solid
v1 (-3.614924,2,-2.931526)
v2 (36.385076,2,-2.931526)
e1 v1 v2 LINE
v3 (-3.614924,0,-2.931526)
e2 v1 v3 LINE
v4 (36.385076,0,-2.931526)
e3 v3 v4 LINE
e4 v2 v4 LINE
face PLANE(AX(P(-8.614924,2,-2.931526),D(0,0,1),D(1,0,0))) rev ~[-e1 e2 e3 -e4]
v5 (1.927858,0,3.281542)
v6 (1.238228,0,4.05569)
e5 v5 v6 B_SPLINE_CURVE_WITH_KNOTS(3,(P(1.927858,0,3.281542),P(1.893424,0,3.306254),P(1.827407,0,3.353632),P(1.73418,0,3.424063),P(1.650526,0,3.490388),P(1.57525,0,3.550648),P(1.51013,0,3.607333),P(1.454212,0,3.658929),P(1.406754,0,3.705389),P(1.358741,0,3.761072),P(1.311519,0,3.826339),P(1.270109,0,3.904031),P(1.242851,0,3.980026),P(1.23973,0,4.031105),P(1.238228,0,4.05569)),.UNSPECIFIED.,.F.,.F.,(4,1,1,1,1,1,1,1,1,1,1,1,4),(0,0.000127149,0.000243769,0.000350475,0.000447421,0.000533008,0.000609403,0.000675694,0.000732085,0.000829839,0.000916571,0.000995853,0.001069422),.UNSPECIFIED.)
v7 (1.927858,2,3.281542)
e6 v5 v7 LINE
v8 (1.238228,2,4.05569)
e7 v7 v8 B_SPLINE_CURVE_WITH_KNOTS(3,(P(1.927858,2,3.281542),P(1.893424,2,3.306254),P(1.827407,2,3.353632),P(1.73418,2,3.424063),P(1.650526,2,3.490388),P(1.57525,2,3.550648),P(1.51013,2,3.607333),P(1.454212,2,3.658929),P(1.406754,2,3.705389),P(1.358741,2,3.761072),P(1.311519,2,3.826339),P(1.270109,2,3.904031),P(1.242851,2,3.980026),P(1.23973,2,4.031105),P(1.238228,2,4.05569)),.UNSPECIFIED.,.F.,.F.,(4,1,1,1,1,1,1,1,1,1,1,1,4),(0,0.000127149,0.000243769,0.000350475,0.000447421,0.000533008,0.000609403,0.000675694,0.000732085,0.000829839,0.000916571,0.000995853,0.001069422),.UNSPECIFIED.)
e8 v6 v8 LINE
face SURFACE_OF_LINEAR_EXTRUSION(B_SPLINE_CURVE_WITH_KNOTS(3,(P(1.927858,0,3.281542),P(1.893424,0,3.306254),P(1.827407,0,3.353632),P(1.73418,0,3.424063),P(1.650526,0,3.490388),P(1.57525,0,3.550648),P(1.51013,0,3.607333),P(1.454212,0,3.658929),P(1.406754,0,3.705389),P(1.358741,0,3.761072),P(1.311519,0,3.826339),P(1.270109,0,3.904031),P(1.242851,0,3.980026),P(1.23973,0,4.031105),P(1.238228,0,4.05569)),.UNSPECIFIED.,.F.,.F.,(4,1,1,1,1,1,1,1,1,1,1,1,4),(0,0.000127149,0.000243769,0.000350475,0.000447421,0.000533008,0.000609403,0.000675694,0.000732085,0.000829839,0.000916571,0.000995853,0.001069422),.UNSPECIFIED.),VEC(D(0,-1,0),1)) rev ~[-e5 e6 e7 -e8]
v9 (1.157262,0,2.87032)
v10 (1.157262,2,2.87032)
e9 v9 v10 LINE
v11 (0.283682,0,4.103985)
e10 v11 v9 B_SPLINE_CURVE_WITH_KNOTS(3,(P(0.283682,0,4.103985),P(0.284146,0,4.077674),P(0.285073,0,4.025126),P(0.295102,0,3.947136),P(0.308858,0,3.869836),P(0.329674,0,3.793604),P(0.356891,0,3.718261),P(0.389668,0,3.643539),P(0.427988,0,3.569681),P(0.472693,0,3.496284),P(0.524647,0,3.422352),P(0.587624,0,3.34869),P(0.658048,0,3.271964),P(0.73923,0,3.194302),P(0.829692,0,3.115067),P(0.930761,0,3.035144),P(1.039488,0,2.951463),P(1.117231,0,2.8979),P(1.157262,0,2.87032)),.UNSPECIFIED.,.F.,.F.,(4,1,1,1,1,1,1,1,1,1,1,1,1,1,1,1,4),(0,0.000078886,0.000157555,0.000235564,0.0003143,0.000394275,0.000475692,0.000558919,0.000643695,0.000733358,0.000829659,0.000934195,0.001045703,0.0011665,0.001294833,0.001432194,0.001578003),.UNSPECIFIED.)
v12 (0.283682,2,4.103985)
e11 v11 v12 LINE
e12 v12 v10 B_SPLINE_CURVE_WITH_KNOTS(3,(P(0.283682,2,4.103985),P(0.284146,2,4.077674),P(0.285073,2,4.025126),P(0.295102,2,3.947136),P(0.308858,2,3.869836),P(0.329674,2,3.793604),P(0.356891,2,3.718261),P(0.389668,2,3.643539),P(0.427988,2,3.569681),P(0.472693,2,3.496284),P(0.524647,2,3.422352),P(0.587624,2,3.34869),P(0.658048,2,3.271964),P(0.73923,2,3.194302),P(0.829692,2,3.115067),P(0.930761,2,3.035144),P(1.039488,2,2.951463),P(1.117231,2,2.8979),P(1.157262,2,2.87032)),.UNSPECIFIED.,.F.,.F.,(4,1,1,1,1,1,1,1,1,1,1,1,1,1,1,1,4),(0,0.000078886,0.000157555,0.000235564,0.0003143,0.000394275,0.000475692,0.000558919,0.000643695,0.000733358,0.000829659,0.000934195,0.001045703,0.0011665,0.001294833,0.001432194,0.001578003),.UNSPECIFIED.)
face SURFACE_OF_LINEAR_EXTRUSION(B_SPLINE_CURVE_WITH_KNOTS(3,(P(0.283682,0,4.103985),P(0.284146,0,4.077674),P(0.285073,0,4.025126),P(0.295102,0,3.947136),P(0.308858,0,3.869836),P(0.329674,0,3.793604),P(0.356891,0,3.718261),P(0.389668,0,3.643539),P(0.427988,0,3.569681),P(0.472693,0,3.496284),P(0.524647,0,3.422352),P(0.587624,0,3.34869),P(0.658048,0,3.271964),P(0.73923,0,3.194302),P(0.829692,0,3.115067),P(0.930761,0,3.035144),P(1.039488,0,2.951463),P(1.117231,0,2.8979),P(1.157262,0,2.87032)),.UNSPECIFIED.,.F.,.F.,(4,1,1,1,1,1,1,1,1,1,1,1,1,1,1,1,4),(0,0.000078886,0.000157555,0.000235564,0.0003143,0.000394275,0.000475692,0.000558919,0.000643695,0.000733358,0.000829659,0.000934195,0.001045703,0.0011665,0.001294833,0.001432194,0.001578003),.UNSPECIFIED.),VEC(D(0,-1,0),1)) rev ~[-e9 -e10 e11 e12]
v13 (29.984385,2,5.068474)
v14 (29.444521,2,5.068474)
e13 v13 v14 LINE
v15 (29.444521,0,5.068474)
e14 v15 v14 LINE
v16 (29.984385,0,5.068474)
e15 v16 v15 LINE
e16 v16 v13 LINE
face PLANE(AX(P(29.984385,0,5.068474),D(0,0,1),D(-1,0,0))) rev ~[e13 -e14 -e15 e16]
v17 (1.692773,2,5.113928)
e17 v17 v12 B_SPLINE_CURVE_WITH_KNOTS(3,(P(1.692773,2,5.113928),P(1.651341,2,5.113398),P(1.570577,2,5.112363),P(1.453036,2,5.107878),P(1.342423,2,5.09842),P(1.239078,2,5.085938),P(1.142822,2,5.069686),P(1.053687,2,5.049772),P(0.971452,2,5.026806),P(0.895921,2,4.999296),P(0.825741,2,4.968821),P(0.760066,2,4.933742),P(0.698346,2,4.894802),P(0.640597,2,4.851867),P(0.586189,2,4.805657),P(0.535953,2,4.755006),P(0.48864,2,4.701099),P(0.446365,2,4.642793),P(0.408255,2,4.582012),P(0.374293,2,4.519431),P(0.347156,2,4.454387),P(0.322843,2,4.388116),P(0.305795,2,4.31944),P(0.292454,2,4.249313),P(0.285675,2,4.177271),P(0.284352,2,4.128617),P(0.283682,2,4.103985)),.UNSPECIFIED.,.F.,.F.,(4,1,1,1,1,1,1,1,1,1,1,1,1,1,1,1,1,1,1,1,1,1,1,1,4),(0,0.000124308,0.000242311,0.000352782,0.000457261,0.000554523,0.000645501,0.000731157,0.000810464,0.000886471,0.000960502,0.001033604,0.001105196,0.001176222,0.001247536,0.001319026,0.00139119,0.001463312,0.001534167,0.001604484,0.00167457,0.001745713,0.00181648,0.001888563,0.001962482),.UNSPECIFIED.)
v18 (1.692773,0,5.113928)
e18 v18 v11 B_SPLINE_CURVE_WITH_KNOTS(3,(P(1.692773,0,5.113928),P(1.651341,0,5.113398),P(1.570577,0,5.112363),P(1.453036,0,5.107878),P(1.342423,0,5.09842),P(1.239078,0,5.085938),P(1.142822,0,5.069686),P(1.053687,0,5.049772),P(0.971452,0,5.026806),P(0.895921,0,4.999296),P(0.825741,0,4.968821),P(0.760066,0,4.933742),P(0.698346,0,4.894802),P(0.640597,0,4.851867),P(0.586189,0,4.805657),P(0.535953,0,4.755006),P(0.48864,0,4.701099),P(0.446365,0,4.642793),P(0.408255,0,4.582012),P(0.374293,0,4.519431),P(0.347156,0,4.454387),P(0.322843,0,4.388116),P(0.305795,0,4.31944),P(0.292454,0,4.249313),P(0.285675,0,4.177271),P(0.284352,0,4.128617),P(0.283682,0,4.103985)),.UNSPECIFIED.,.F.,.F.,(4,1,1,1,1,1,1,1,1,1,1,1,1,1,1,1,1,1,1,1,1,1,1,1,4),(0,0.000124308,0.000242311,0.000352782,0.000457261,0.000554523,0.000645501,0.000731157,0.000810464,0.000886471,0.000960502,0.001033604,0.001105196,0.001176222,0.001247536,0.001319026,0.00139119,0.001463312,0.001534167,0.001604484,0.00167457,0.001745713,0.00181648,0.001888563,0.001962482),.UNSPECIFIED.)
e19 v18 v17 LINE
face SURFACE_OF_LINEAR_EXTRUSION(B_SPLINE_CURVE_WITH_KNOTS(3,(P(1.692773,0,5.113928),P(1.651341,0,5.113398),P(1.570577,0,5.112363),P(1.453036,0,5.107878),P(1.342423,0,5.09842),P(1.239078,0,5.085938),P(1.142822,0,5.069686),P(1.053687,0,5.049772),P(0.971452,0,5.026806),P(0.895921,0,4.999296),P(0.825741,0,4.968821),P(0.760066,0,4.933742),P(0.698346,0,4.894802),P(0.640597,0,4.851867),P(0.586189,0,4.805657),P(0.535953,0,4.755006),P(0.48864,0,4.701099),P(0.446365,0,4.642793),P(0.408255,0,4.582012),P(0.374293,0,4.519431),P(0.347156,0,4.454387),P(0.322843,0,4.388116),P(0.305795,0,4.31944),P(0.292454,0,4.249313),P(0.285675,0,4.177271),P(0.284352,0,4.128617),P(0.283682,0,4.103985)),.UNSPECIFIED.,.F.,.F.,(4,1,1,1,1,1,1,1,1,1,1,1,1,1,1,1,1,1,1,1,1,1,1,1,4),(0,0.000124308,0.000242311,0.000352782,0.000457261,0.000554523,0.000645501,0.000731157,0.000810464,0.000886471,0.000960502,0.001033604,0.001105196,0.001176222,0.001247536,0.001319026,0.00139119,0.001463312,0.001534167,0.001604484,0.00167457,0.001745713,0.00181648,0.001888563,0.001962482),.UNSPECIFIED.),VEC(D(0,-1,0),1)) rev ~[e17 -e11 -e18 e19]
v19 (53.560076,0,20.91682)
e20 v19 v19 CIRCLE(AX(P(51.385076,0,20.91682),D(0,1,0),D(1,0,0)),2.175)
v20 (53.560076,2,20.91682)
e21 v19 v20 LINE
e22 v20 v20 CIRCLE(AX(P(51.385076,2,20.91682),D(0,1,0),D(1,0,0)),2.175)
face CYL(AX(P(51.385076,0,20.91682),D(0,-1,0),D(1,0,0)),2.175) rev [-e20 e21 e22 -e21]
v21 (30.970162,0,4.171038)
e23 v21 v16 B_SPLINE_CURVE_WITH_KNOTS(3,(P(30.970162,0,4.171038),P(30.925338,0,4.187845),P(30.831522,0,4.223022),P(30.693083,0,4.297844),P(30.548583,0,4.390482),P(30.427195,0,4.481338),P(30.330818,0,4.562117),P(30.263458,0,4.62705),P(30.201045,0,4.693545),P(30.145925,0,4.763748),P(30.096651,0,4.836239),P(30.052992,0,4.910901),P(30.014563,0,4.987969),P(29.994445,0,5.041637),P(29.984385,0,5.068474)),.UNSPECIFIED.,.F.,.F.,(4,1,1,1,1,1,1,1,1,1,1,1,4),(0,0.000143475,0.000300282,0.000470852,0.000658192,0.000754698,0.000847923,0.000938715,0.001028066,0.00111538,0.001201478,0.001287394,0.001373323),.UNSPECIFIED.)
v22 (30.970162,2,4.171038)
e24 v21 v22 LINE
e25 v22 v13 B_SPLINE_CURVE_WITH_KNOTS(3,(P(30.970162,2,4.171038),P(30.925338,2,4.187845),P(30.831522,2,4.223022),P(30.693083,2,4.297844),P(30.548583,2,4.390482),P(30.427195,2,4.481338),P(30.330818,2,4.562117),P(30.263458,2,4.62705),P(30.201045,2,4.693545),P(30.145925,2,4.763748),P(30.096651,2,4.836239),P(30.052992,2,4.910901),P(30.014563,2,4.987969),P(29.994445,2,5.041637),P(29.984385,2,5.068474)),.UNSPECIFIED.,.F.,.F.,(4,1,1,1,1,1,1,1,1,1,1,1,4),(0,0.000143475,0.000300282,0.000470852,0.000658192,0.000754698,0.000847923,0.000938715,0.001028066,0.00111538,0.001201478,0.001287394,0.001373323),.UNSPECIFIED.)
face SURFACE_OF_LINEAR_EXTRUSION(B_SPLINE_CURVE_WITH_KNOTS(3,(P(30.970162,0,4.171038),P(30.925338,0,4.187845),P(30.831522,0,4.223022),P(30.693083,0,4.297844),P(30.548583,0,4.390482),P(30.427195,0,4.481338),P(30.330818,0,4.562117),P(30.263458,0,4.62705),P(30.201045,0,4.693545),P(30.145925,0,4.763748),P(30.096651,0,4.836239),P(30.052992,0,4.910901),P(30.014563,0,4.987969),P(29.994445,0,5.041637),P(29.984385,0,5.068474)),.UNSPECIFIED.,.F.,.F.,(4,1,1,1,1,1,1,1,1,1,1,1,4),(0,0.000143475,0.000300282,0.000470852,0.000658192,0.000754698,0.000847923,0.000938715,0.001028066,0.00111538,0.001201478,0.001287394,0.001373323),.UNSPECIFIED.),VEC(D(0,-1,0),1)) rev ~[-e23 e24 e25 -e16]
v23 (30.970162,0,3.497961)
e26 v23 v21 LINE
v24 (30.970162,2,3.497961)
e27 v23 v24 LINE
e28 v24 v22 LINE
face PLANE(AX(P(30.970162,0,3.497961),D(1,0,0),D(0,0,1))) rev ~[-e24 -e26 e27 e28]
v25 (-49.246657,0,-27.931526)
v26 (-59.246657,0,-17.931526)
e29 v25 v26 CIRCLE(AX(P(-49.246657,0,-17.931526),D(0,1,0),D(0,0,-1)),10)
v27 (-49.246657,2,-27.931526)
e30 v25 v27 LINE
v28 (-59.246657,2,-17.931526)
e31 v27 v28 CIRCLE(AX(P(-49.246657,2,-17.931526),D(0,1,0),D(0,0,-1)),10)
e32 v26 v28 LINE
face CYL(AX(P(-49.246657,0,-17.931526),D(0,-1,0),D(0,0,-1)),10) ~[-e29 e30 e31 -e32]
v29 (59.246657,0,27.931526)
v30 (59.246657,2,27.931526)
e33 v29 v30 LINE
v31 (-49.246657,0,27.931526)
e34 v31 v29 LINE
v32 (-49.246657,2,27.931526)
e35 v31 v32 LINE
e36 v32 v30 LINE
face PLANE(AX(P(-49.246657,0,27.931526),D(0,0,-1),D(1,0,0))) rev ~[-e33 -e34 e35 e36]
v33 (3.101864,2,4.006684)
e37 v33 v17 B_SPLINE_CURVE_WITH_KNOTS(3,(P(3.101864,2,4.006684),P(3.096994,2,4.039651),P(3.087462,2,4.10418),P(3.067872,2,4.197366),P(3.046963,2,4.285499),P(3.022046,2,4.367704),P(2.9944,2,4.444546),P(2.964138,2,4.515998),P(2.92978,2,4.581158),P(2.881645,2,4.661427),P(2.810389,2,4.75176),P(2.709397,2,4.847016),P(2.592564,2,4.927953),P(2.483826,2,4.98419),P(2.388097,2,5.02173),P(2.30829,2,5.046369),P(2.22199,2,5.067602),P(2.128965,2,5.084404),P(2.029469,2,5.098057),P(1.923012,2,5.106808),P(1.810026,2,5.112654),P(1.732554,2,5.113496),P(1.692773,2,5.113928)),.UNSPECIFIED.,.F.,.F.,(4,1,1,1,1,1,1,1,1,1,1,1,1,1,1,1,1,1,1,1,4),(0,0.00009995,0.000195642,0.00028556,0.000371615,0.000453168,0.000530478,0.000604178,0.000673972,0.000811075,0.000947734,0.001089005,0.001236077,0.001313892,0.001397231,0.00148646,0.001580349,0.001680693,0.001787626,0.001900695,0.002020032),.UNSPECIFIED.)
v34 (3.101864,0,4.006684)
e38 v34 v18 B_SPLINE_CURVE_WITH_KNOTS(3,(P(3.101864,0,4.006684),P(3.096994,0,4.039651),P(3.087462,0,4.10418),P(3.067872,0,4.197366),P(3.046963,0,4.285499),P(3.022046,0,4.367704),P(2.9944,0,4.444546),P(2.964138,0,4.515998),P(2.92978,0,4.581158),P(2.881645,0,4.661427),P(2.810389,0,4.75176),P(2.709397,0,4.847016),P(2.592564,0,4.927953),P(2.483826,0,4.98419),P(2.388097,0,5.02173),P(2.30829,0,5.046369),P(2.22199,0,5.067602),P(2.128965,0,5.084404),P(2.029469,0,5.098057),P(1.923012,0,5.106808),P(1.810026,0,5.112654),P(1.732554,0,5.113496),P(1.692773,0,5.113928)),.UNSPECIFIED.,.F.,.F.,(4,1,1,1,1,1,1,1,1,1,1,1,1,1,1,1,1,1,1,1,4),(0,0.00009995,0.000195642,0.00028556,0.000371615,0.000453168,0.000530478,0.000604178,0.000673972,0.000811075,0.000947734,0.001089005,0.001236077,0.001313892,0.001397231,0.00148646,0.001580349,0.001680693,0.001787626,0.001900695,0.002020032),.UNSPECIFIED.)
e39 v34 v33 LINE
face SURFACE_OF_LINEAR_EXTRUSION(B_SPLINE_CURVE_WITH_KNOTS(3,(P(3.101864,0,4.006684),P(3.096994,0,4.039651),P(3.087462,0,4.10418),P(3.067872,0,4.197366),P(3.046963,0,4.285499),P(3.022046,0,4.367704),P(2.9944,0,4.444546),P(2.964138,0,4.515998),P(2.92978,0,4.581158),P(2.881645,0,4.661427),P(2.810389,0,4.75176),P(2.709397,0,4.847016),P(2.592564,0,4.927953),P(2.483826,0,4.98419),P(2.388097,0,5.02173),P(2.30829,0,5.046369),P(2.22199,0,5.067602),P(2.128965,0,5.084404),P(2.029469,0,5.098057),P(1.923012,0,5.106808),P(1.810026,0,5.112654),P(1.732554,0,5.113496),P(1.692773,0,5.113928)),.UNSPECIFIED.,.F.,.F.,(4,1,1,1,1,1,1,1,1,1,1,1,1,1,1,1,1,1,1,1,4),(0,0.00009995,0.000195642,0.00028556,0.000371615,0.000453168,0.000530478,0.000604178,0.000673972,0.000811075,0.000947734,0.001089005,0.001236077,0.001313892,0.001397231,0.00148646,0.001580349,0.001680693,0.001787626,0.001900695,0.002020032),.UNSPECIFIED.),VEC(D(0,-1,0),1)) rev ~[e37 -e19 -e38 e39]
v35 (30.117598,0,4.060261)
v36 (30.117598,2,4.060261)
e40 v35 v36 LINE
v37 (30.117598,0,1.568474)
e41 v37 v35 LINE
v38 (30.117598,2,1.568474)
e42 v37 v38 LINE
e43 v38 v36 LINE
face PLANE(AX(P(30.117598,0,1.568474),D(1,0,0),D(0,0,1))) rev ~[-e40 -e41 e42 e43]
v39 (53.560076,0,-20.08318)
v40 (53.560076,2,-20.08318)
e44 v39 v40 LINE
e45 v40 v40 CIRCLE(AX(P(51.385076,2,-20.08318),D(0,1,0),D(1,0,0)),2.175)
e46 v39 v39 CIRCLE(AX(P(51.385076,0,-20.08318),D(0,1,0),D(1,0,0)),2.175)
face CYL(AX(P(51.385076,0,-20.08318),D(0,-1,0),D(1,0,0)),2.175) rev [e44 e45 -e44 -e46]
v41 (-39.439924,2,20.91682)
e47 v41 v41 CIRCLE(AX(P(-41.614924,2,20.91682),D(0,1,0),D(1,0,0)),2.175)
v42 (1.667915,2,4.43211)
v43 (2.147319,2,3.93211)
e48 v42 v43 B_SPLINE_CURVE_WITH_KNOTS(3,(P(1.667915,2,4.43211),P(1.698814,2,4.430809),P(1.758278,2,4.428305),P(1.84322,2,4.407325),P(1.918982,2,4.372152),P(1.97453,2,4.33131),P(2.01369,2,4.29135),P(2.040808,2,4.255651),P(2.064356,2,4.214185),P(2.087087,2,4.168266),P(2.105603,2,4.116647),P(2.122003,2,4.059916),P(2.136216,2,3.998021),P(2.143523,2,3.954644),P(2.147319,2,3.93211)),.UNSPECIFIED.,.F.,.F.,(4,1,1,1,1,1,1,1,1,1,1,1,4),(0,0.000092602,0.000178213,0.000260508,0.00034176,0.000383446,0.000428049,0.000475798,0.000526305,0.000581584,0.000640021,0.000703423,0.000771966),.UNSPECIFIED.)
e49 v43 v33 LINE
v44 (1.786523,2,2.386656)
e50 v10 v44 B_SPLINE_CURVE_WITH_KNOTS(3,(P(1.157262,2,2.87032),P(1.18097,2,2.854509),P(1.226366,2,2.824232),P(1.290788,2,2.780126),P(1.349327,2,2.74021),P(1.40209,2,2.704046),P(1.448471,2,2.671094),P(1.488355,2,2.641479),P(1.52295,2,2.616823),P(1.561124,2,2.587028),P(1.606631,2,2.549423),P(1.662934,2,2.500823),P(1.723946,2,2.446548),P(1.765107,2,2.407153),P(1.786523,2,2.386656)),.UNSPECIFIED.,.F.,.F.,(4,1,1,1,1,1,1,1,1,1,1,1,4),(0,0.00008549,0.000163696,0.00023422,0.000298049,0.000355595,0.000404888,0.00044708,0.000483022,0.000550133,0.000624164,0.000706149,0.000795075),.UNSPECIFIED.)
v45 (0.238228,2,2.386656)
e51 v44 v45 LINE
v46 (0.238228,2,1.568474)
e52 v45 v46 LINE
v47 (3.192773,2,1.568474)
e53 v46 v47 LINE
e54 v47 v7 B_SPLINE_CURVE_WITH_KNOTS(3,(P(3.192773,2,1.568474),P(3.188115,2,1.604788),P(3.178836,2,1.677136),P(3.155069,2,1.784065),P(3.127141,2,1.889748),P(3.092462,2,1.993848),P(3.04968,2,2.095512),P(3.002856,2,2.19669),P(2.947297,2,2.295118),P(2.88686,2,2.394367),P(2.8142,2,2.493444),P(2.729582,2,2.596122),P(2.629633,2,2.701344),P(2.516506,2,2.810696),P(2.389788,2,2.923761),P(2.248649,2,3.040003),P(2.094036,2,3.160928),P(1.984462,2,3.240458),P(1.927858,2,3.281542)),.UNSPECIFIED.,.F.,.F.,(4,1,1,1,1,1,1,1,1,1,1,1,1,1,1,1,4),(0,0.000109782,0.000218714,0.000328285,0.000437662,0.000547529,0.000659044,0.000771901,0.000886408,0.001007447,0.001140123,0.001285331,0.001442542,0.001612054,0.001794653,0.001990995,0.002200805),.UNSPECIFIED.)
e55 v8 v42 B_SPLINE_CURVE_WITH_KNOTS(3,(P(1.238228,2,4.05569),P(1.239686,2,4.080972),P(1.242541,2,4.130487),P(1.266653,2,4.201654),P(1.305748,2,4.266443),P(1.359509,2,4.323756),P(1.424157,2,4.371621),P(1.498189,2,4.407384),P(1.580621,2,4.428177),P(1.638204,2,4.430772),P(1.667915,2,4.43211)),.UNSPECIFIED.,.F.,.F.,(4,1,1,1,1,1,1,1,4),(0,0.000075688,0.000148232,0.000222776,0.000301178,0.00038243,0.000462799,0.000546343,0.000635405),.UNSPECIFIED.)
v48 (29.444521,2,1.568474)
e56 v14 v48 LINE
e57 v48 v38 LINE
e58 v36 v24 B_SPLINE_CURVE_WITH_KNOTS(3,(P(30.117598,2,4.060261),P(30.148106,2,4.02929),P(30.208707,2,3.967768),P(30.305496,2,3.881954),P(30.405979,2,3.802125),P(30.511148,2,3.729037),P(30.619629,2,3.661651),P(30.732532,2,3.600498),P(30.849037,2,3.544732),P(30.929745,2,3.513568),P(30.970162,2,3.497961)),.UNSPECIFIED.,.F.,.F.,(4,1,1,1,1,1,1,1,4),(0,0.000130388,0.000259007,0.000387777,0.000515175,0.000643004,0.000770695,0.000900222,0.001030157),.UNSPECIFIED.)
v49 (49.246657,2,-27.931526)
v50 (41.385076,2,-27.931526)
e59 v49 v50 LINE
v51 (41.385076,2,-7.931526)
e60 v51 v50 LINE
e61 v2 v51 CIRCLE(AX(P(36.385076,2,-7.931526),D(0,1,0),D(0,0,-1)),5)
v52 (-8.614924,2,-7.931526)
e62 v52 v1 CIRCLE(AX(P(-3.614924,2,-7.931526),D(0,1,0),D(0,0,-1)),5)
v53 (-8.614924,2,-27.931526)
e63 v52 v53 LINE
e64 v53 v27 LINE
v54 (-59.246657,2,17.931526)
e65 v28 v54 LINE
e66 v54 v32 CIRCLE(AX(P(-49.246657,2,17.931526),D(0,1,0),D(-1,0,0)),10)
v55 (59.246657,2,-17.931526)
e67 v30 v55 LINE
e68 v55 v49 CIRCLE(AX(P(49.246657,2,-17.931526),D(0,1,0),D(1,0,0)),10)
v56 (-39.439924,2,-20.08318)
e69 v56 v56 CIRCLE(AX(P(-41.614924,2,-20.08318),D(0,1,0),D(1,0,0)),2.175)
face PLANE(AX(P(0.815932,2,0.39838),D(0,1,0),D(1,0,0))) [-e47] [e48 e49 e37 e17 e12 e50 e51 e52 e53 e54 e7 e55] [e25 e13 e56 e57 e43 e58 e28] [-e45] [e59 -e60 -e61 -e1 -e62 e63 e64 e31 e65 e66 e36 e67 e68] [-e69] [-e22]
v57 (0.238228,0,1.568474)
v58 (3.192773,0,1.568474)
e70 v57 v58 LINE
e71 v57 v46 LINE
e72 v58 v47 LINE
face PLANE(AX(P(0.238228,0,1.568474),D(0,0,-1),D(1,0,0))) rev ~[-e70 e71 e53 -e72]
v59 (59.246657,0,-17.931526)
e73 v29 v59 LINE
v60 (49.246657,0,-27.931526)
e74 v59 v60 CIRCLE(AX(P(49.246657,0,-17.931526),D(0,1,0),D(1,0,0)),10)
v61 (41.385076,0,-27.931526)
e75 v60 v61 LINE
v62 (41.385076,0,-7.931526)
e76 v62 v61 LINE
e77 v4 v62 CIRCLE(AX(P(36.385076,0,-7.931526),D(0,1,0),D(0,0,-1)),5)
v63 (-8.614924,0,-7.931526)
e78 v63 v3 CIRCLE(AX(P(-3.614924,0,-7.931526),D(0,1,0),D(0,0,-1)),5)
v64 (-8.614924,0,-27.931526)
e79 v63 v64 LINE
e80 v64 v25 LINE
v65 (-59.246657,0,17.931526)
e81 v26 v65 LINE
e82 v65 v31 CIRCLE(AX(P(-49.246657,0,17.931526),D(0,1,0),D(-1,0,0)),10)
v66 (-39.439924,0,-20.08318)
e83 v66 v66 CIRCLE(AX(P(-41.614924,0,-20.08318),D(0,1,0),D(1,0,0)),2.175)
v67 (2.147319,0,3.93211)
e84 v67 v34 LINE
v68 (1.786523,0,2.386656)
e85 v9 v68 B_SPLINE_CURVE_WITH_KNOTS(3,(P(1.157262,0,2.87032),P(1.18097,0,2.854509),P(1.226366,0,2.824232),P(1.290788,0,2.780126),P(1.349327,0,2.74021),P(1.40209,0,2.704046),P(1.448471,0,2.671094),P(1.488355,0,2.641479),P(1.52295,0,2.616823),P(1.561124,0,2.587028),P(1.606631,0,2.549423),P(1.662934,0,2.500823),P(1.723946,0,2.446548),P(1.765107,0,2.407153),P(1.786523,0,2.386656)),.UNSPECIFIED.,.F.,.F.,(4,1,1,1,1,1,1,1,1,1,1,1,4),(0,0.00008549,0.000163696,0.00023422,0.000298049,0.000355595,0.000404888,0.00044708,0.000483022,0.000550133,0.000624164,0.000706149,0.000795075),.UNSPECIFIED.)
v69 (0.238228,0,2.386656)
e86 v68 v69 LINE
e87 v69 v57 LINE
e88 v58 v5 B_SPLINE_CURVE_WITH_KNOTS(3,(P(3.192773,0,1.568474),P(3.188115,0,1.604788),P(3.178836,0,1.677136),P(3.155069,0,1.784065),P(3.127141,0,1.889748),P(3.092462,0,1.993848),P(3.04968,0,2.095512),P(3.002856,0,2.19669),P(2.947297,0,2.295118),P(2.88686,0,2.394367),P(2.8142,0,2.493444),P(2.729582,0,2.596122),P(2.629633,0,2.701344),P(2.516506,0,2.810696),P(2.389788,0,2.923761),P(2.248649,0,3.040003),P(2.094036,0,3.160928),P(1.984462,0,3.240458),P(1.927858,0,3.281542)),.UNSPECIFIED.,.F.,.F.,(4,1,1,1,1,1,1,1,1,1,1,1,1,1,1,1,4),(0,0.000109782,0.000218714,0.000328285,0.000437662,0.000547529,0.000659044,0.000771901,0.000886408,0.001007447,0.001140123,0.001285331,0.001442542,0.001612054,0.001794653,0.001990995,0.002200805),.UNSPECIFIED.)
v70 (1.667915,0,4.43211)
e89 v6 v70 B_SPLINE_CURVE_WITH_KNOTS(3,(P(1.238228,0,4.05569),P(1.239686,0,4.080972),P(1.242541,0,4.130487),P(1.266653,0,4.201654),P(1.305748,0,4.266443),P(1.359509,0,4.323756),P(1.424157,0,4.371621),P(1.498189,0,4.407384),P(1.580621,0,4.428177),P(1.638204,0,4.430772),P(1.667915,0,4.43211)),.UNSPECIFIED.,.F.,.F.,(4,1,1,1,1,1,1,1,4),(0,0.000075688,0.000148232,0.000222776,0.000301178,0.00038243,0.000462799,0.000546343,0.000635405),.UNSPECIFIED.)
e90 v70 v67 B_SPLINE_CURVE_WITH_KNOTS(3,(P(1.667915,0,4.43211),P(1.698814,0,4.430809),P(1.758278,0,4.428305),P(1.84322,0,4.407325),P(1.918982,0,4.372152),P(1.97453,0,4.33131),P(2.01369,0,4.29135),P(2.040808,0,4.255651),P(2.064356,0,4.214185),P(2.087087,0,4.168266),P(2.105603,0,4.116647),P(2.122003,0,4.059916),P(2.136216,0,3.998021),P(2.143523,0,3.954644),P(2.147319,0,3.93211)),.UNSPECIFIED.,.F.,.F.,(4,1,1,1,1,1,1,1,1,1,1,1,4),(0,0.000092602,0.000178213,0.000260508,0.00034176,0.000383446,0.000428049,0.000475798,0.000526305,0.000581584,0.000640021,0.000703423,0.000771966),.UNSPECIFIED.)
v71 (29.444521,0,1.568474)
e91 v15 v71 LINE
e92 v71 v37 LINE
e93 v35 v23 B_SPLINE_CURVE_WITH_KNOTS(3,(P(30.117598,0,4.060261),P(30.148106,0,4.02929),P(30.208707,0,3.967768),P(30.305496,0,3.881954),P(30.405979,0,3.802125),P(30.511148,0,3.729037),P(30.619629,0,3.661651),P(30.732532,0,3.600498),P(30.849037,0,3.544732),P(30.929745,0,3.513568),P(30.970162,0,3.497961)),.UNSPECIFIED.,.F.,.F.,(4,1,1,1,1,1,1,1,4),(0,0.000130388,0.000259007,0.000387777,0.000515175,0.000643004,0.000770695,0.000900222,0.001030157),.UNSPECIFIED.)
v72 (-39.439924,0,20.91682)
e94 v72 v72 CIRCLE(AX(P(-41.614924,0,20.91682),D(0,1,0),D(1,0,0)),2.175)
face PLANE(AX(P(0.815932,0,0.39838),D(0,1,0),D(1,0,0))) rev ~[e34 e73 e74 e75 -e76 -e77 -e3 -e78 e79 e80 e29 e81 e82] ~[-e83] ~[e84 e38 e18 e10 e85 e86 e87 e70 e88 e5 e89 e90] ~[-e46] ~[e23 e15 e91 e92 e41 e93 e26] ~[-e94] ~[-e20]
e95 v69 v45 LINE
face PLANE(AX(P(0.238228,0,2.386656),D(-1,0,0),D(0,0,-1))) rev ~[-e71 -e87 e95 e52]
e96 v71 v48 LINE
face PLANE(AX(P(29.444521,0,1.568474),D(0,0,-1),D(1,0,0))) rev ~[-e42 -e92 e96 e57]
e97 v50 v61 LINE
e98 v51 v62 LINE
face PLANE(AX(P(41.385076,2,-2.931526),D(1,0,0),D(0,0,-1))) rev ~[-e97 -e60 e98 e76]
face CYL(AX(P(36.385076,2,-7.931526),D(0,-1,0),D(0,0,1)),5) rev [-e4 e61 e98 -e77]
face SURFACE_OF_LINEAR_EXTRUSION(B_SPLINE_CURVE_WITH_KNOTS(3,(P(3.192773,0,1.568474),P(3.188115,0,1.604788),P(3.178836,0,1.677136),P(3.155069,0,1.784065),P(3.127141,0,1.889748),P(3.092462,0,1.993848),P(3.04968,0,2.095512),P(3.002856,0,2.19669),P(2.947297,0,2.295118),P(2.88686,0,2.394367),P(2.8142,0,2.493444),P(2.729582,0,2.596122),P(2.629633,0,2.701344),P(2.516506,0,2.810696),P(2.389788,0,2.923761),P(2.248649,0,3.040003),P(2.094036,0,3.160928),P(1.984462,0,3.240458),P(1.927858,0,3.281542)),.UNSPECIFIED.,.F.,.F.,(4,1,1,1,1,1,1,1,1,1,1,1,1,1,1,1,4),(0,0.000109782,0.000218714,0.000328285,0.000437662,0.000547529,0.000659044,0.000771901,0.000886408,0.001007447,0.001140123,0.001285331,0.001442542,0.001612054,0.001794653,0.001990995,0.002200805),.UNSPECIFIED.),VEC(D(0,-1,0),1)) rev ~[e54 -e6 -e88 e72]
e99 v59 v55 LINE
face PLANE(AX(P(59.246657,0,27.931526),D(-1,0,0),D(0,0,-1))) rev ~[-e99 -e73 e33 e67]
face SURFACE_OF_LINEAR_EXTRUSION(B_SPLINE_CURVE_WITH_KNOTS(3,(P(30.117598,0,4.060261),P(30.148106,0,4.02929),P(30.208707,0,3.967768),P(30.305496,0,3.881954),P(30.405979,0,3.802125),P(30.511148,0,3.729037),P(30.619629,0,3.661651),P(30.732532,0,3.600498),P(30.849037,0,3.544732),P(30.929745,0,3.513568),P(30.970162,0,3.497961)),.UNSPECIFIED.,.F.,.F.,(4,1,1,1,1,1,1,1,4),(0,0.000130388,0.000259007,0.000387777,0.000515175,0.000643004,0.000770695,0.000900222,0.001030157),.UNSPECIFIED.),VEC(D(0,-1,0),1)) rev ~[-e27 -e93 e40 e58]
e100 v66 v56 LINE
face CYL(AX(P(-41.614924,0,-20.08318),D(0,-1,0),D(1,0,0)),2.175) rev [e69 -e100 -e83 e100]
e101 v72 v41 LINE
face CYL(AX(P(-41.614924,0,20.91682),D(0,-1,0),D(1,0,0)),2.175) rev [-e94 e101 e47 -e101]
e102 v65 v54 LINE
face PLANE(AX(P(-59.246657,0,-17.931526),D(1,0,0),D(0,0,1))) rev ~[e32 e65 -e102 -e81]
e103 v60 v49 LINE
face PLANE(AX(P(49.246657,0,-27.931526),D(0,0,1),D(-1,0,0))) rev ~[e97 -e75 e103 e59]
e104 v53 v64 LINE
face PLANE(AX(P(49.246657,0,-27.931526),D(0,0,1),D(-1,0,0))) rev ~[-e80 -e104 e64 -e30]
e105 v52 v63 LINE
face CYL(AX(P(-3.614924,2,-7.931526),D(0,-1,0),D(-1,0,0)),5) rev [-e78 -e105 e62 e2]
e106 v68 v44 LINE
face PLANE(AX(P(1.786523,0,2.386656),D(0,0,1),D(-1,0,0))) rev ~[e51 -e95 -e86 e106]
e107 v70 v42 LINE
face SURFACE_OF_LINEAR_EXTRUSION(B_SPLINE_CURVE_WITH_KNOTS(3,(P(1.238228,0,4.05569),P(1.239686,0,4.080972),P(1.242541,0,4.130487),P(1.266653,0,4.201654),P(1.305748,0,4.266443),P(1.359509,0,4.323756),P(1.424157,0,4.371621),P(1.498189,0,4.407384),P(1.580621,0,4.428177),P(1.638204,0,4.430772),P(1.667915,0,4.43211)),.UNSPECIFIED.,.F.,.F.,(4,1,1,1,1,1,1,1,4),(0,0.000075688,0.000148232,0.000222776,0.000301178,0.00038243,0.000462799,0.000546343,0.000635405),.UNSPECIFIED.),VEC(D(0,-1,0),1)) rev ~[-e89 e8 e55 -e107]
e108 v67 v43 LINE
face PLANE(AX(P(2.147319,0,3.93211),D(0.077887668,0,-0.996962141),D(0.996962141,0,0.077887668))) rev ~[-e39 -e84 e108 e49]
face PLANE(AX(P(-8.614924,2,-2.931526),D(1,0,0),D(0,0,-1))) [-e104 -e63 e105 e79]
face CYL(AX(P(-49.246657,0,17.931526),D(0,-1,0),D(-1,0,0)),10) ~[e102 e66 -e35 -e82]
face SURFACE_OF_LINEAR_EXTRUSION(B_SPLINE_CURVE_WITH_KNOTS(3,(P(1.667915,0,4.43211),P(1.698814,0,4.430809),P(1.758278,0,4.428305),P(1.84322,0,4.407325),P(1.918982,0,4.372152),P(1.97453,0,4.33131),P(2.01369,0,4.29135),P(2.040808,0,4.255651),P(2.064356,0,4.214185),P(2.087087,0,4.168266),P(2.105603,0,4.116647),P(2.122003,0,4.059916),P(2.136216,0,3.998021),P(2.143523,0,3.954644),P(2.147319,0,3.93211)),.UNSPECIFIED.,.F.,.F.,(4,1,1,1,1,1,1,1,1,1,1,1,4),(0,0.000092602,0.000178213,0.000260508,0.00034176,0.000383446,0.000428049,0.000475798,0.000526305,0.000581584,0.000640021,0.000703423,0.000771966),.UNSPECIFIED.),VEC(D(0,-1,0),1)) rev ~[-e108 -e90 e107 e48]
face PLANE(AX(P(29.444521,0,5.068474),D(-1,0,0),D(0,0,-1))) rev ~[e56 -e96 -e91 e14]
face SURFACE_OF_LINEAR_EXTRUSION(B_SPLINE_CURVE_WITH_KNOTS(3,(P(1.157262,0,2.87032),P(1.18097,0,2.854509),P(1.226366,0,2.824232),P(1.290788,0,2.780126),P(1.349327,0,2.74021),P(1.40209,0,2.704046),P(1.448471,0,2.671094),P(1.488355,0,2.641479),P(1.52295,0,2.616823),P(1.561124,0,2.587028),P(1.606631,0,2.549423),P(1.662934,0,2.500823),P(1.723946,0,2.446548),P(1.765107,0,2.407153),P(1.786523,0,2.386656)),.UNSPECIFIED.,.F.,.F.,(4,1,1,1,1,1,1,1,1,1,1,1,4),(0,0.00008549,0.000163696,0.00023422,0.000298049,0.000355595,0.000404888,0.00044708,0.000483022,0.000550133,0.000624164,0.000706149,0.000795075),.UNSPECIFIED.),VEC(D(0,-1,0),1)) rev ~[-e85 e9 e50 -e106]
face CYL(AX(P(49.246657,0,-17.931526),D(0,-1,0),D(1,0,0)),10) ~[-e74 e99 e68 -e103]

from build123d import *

# Parameters (mm, degrees)
CROQUIS1_R              = 2.175
SALIENTE_EXTRUIR1_DEPTH = 2
CROQUIS2_W              = 50
CROQUIS2_H              = 25
CORTAR_EXTRUIR1_DEPTH   = 2
REDONDEO1_R             = 5
CORTAR_EXTRUIR2_DEPTH   = 2


with BuildPart() as part:
    # Croquis1 → Saliente-Extruir1 (new body)
    with BuildSketch(Plane(origin=(0, 0, 0), x_dir=(1, 0, 0), z_dir=(0, 1, 0))):
        with BuildLine():
            Line((-59.24665691, 17.931526281), (-59.24665691, -17.931526281))
            ThreePointArc((-59.24665691, -17.931526281), (-56.317724722, -25.002594093), (-49.24665691, -27.931526281))
            Line((-49.24665691, -27.931526281), (-31.500611182, -27.931526281))
            Line((-31.500611182, -27.931526281), (37.914147183, -27.931526281))
            Line((37.914147183, -27.931526281), (59.24665691, -27.931526281))
            Line((59.24665691, -27.931526281), (59.24665691, 17.931526281))
            ThreePointArc((59.24665691, 17.931526281), (56.317724722, 25.002594093), (49.24665691, 27.931526281))
            Line((49.24665691, 27.931526281), (-49.24665691, 27.931526281))
            ThreePointArc((-49.24665691, 27.931526281), (-56.317724722, 25.002594093), (-59.24665691, 17.931526281))
        make_face()
        with Locations((51.3850757, -20.916819625)):
            Circle(CROQUIS1_R, mode=Mode.SUBTRACT)
        with Locations((-41.6149243, -20.916819625)):
            Circle(CROQUIS1_R, mode=Mode.SUBTRACT)
        with Locations((-41.6149243, 20.083180375)):
            Circle(CROQUIS1_R, mode=Mode.SUBTRACT)
        with Locations((51.3850757, 20.083180375)):
            Circle(CROQUIS1_R, mode=Mode.SUBTRACT)
    extrude(amount=SALIENTE_EXTRUIR1_DEPTH)

    # Croquis2 → Cortar-Extruir1 (cut)
    with BuildSketch(Plane(origin=(0, 2, 0), x_dir=(1, 0, 0), z_dir=(0, 1, 0))):
        with Locations((16.3850757, 15.431526281)):
            Rectangle(CROQUIS2_W, CROQUIS2_H)
    extrude(amount=-CORTAR_EXTRUIR1_DEPTH, mode=Mode.SUBTRACT)

    # Redondeo1
    redondeo1_edges = [part.edges().sort_by_distance(p)[0] for p in [
        (41.3850757, 1, -2.931526281),
        (-8.6149243, 1, -2.931526281),
    ]]
    fillet(redondeo1_edges, radius=REDONDEO1_R)

    # Croquis4 → Cortar-Extruir2 (cut)
    with BuildSketch(Plane.XZ):
        with BuildLine():
            Line((29.444521437, 1.568473719), (30.11759836, 1.568473719))
            Line((30.11759836, 1.568473719), (30.11759836, 4.060260578))
            add(Edge.make_bspline(
                [(30.11759836, 4.060260578), (30.148105822, 4.029289813), (30.208706879, 3.967768435), (30.305496315, 3.881954316), (30.405978505, 3.802124559), (30.511147814, 3.729037402), (30.61962941, 3.661651481), (30.732531913, 3.600498497), (30.849036967, 3.544732313), (30.929745062, 3.513567679), (30.970162463, 3.497960898)],
                knots=[0, 0, 0, 0, 0.000130388, 0.000259007, 0.000387777, 0.000515175, 0.000643004, 0.000770695, 0.000900222, 0.001030157, 0.001030157, 0.001030157, 0.001030157], degree=3))
            Line((30.970162463, 3.497960898), (30.970162463, 4.171037821))
            add(Edge.make_bspline(
                [(30.970162463, 4.171037821), (30.925337531, 4.187845247), (30.831522436, 4.223021882), (30.693082905, 4.297844367), (30.548583301, 4.390482153), (30.427195385, 4.481338367), (30.33081837, 4.562116803), (30.263458163, 4.62704999), (30.201045059, 4.693544942), (30.145925041, 4.763747872), (30.096651183, 4.836239432), (30.052992396, 4.910901194), (30.014562629, 4.987969009), (29.994444914, 5.041637327), (29.984385219, 5.068473719)],
                knots=[0, 0, 0, 0, 0.000143475, 0.000300282, 0.000470852, 0.000658192, 0.000754698, 0.000847923, 0.000938715, 0.001028066, 0.00111538, 0.001201478, 0.001287394, 0.001373323, 0.001373323, 0.001373323, 0.001373323], degree=3))
            Line((29.984385219, 5.068473719), (29.444521437, 5.068473719))
            Line((29.444521437, 5.068473719), (29.444521437, 1.568473719))
        make_face()
        with BuildLine():
            Line((0.238227731, 1.568473719), (3.192773185, 1.568473719))
            add(Edge.make_bspline(
                [(3.192773185, 1.568473719), (3.188115357, 1.604788367), (3.178835808, 1.677136155), (3.155068568, 1.784065443), (3.127140852, 1.889748411), (3.092461936, 1.993848095), (3.049680145, 2.095512273), (3.002856429, 2.19669015), (2.94729708, 2.295118176), (2.886860339, 2.394367373), (2.814200344, 2.493443888), (2.729582069, 2.596122101), (2.629633226, 2.701343615), (2.516505876, 2.810695804), (2.389788427, 2.923761308), (2.248649332, 3.040002632), (2.094036264, 3.160927698), (1.984462278, 3.240458026), (1.927858413, 3.281541901)],
                knots=[0, 0, 0, 0, 0.000109782, 0.000218714, 0.000328285, 0.000437662, 0.000547529, 0.000659044, 0.000771901, 0.000886408, 0.001007447, 0.001140123, 0.001285331, 0.001442542, 0.001612054, 0.001794653, 0.001990995, 0.002200805, 0.002200805, 0.002200805, 0.002200805], degree=3))
            add(Edge.make_bspline(
                [(1.927858413, 3.281541901), (1.893424314, 3.306253875), (1.827407407, 3.353631569), (1.734179987, 3.424062611), (1.650525877, 3.490388277), (1.575249679, 3.550647526), (1.510130493, 3.607333231), (1.454212438, 3.658929136), (1.406754234, 3.705389161), (1.358740775, 3.761072032), (1.311519349, 3.826339302), (1.270109393, 3.904031485), (1.242851252, 3.980026103), (1.239730022, 4.031104768), (1.238227731, 4.055689628)],
                knots=[0, 0, 0, 0, 0.000127149, 0.000243769, 0.000350475, 0.000447421, 0.000533008, 0.000609403, 0.000675694, 0.000732085, 0.000829839, 0.000916571, 0.000995853, 0.001069422, 0.001069422, 0.001069422, 0.001069422], degree=3))
            add(Edge.make_bspline(
                [(1.238227731, 4.055689628), (1.239685746, 4.080972097), (1.242541207, 4.130486734), (1.266653205, 4.201654218), (1.305747651, 4.266442593), (1.359509302, 4.323756407), (1.424157163, 4.371621265), (1.498188647, 4.407383572), (1.580621178, 4.428177391), (1.638203662, 4.430771544), (1.667915231, 4.432110082)],
                knots=[0, 0, 0, 0, 7.5688e-05, 0.000148232, 0.000222776, 0.000301178, 0.00038243, 0.000462799, 0.000546343, 0.000635405, 0.000635405, 0.000635405, 0.000635405], degree=3))
            add(Edge.make_bspline(
                [(1.667915231, 4.432110082), (1.698813755, 4.430809048), (1.758278058, 4.428305203), (1.843219818, 4.407324867), (1.918981726, 4.372152378), (1.974530483, 4.331309897), (2.013689853, 4.291349515), (2.040808134, 4.255651482), (2.064355526, 4.214184875), (2.087086891, 4.168265993), (2.105602713, 4.116647385), (2.122002547, 4.059916325), (2.136216017, 3.998020881), (2.14352285, 3.954643819), (2.14731864, 3.932110082)],
                knots=[0, 0, 0, 0, 9.2602e-05, 0.000178213, 0.000260508, 0.00034176, 0.000383446, 0.000428049, 0.000475798, 0.000526305, 0.000581584, 0.000640021, 0.000703423, 0.000771966, 0.000771966, 0.000771966, 0.000771966], degree=3))
            Line((2.14731864, 3.932110082), (3.101864094, 4.006683946))
            add(Edge.make_bspline(
                [(3.101864094, 4.006683946), (3.096994116, 4.039650766), (3.087461692, 4.104179537), (3.067871533, 4.197366087), (3.046962689, 4.285499285), (3.022046312, 4.367704138), (2.994400178, 4.444545826), (2.964137877, 4.515998173), (2.929779719, 4.581157532), (2.881644848, 4.661426522), (2.810389047, 4.751759712), (2.709397011, 4.847015779), (2.592564179, 4.927953002), (2.483825815, 4.984190233), (2.388096824, 5.021729738), (2.308290198, 5.046369437), (2.221990226, 5.067601851), (2.128965037, 5.084403665), (2.029469325, 5.098056751), (1.923011653, 5.106807753), (1.810025667, 5.11265402), (1.732553843, 5.113495947), (1.692773185, 5.113928264)],
                knots=[0, 0, 0, 0, 9.995e-05, 0.000195642, 0.00028556, 0.000371615, 0.000453168, 0.000530478, 0.000604178, 0.000673972, 0.000811075, 0.000947734, 0.001089005, 0.001236077, 0.001313892, 0.001397231, 0.00148646, 0.001580349, 0.001680693, 0.001787626, 0.001900695, 0.002020032, 0.002020032, 0.002020032, 0.002020032], degree=3))
            add(Edge.make_bspline(
                [(1.692773185, 5.113928264), (1.651340679, 5.113397506), (1.570577331, 5.112362914), (1.453036045, 5.107878174), (1.34242277, 5.098420374), (1.23907833, 5.085938383), (1.142821984, 5.069686254), (1.053687032, 5.049772162), (0.971451968, 5.026806196), (0.895920672, 4.999295684), (0.825740946, 4.968820838), (0.760065932, 4.933742155), (0.698346318, 4.894802211), (0.640597303, 4.851866527), (0.586189039, 4.805657255), (0.535953343, 4.755006285), (0.488639596, 4.701098695), (0.446364968, 4.642792682), (0.408254872, 4.582011512), (0.374293308, 4.519431441), (0.347155821, 4.454387488), (0.322843456, 4.388116191), (0.305795233, 4.319440044), (0.292454011, 4.249312564), (0.285675472, 4.177270825), (0.284352217, 4.128617444), (0.283682276, 4.103985082)],
                knots=[0, 0, 0, 0, 0.000124308, 0.000242311, 0.000352782, 0.000457261, 0.000554523, 0.000645501, 0.000731157, 0.000810464, 0.000886471, 0.000960502, 0.001033604, 0.001105196, 0.001176222, 0.001247536, 0.001319026, 0.00139119, 0.001463312, 0.001534167, 0.001604484, 0.00167457, 0.001745713, 0.00181648, 0.001888563, 0.001962482, 0.001962482, 0.001962482, 0.001962482], degree=3))
            add(Edge.make_bspline(
                [(0.283682276, 4.103985082), (0.284146132, 4.077674435), (0.285072563, 4.025125751), (0.295101547, 3.947135962), (0.308857923, 3.869836073), (0.32967374, 3.793603518), (0.356890877, 3.718261121), (0.389668246, 3.643538536), (0.42798763, 3.569681371), (0.472692567, 3.496283619), (0.524647072, 3.422352303), (0.587623536, 3.348689881), (0.658047527, 3.271963933), (0.739230369, 3.194302446), (0.829692238, 3.115067123), (0.930761028, 3.035143861), (1.039488039, 2.951462642), (1.117230695, 2.897900463), (1.157261822, 2.87032031)],
                knots=[0, 0, 0, 0, 7.8886e-05, 0.000157555, 0.000235564, 0.0003143, 0.000394275, 0.000475692, 0.000558919, 0.000643695, 0.000733358, 0.000829659, 0.000934195, 0.001045703, 0.0011665, 0.001294833, 0.001432194, 0.001578003, 0.001578003, 0.001578003, 0.001578003], degree=3))
            add(Edge.make_bspline(
                [(1.157261822, 2.87032031), (1.180969807, 2.854508529), (1.226365633, 2.824232281), (1.29078794, 2.780126058), (1.349326873, 2.74020997), (1.402090118, 2.704045916), (1.448471107, 2.67109448), (1.488355102, 2.641479001), (1.522950215, 2.616823253), (1.561123658, 2.587028109), (1.606631457, 2.549422878), (1.662933813, 2.5008226), (1.723946438, 2.446547502), (1.765107013, 2.407152874), (1.786523185, 2.386655537)],
                knots=[0, 0, 0, 0, 8.549e-05, 0.000163696, 0.00023422, 0.000298049, 0.000355595, 0.000404888, 0.00044708, 0.000483022, 0.000550133, 0.000624164, 0.000706149, 0.000795075, 0.000795075, 0.000795075, 0.000795075], degree=3))
            Line((1.786523185, 2.386655537), (0.238227731, 2.386655537))
            Line((0.238227731, 2.386655537), (0.238227731, 1.568473719))
        make_face()
    extrude(amount=-CORTAR_EXTRUIR2_DEPTH, mode=Mode.SUBTRACT)


solid = part.part
